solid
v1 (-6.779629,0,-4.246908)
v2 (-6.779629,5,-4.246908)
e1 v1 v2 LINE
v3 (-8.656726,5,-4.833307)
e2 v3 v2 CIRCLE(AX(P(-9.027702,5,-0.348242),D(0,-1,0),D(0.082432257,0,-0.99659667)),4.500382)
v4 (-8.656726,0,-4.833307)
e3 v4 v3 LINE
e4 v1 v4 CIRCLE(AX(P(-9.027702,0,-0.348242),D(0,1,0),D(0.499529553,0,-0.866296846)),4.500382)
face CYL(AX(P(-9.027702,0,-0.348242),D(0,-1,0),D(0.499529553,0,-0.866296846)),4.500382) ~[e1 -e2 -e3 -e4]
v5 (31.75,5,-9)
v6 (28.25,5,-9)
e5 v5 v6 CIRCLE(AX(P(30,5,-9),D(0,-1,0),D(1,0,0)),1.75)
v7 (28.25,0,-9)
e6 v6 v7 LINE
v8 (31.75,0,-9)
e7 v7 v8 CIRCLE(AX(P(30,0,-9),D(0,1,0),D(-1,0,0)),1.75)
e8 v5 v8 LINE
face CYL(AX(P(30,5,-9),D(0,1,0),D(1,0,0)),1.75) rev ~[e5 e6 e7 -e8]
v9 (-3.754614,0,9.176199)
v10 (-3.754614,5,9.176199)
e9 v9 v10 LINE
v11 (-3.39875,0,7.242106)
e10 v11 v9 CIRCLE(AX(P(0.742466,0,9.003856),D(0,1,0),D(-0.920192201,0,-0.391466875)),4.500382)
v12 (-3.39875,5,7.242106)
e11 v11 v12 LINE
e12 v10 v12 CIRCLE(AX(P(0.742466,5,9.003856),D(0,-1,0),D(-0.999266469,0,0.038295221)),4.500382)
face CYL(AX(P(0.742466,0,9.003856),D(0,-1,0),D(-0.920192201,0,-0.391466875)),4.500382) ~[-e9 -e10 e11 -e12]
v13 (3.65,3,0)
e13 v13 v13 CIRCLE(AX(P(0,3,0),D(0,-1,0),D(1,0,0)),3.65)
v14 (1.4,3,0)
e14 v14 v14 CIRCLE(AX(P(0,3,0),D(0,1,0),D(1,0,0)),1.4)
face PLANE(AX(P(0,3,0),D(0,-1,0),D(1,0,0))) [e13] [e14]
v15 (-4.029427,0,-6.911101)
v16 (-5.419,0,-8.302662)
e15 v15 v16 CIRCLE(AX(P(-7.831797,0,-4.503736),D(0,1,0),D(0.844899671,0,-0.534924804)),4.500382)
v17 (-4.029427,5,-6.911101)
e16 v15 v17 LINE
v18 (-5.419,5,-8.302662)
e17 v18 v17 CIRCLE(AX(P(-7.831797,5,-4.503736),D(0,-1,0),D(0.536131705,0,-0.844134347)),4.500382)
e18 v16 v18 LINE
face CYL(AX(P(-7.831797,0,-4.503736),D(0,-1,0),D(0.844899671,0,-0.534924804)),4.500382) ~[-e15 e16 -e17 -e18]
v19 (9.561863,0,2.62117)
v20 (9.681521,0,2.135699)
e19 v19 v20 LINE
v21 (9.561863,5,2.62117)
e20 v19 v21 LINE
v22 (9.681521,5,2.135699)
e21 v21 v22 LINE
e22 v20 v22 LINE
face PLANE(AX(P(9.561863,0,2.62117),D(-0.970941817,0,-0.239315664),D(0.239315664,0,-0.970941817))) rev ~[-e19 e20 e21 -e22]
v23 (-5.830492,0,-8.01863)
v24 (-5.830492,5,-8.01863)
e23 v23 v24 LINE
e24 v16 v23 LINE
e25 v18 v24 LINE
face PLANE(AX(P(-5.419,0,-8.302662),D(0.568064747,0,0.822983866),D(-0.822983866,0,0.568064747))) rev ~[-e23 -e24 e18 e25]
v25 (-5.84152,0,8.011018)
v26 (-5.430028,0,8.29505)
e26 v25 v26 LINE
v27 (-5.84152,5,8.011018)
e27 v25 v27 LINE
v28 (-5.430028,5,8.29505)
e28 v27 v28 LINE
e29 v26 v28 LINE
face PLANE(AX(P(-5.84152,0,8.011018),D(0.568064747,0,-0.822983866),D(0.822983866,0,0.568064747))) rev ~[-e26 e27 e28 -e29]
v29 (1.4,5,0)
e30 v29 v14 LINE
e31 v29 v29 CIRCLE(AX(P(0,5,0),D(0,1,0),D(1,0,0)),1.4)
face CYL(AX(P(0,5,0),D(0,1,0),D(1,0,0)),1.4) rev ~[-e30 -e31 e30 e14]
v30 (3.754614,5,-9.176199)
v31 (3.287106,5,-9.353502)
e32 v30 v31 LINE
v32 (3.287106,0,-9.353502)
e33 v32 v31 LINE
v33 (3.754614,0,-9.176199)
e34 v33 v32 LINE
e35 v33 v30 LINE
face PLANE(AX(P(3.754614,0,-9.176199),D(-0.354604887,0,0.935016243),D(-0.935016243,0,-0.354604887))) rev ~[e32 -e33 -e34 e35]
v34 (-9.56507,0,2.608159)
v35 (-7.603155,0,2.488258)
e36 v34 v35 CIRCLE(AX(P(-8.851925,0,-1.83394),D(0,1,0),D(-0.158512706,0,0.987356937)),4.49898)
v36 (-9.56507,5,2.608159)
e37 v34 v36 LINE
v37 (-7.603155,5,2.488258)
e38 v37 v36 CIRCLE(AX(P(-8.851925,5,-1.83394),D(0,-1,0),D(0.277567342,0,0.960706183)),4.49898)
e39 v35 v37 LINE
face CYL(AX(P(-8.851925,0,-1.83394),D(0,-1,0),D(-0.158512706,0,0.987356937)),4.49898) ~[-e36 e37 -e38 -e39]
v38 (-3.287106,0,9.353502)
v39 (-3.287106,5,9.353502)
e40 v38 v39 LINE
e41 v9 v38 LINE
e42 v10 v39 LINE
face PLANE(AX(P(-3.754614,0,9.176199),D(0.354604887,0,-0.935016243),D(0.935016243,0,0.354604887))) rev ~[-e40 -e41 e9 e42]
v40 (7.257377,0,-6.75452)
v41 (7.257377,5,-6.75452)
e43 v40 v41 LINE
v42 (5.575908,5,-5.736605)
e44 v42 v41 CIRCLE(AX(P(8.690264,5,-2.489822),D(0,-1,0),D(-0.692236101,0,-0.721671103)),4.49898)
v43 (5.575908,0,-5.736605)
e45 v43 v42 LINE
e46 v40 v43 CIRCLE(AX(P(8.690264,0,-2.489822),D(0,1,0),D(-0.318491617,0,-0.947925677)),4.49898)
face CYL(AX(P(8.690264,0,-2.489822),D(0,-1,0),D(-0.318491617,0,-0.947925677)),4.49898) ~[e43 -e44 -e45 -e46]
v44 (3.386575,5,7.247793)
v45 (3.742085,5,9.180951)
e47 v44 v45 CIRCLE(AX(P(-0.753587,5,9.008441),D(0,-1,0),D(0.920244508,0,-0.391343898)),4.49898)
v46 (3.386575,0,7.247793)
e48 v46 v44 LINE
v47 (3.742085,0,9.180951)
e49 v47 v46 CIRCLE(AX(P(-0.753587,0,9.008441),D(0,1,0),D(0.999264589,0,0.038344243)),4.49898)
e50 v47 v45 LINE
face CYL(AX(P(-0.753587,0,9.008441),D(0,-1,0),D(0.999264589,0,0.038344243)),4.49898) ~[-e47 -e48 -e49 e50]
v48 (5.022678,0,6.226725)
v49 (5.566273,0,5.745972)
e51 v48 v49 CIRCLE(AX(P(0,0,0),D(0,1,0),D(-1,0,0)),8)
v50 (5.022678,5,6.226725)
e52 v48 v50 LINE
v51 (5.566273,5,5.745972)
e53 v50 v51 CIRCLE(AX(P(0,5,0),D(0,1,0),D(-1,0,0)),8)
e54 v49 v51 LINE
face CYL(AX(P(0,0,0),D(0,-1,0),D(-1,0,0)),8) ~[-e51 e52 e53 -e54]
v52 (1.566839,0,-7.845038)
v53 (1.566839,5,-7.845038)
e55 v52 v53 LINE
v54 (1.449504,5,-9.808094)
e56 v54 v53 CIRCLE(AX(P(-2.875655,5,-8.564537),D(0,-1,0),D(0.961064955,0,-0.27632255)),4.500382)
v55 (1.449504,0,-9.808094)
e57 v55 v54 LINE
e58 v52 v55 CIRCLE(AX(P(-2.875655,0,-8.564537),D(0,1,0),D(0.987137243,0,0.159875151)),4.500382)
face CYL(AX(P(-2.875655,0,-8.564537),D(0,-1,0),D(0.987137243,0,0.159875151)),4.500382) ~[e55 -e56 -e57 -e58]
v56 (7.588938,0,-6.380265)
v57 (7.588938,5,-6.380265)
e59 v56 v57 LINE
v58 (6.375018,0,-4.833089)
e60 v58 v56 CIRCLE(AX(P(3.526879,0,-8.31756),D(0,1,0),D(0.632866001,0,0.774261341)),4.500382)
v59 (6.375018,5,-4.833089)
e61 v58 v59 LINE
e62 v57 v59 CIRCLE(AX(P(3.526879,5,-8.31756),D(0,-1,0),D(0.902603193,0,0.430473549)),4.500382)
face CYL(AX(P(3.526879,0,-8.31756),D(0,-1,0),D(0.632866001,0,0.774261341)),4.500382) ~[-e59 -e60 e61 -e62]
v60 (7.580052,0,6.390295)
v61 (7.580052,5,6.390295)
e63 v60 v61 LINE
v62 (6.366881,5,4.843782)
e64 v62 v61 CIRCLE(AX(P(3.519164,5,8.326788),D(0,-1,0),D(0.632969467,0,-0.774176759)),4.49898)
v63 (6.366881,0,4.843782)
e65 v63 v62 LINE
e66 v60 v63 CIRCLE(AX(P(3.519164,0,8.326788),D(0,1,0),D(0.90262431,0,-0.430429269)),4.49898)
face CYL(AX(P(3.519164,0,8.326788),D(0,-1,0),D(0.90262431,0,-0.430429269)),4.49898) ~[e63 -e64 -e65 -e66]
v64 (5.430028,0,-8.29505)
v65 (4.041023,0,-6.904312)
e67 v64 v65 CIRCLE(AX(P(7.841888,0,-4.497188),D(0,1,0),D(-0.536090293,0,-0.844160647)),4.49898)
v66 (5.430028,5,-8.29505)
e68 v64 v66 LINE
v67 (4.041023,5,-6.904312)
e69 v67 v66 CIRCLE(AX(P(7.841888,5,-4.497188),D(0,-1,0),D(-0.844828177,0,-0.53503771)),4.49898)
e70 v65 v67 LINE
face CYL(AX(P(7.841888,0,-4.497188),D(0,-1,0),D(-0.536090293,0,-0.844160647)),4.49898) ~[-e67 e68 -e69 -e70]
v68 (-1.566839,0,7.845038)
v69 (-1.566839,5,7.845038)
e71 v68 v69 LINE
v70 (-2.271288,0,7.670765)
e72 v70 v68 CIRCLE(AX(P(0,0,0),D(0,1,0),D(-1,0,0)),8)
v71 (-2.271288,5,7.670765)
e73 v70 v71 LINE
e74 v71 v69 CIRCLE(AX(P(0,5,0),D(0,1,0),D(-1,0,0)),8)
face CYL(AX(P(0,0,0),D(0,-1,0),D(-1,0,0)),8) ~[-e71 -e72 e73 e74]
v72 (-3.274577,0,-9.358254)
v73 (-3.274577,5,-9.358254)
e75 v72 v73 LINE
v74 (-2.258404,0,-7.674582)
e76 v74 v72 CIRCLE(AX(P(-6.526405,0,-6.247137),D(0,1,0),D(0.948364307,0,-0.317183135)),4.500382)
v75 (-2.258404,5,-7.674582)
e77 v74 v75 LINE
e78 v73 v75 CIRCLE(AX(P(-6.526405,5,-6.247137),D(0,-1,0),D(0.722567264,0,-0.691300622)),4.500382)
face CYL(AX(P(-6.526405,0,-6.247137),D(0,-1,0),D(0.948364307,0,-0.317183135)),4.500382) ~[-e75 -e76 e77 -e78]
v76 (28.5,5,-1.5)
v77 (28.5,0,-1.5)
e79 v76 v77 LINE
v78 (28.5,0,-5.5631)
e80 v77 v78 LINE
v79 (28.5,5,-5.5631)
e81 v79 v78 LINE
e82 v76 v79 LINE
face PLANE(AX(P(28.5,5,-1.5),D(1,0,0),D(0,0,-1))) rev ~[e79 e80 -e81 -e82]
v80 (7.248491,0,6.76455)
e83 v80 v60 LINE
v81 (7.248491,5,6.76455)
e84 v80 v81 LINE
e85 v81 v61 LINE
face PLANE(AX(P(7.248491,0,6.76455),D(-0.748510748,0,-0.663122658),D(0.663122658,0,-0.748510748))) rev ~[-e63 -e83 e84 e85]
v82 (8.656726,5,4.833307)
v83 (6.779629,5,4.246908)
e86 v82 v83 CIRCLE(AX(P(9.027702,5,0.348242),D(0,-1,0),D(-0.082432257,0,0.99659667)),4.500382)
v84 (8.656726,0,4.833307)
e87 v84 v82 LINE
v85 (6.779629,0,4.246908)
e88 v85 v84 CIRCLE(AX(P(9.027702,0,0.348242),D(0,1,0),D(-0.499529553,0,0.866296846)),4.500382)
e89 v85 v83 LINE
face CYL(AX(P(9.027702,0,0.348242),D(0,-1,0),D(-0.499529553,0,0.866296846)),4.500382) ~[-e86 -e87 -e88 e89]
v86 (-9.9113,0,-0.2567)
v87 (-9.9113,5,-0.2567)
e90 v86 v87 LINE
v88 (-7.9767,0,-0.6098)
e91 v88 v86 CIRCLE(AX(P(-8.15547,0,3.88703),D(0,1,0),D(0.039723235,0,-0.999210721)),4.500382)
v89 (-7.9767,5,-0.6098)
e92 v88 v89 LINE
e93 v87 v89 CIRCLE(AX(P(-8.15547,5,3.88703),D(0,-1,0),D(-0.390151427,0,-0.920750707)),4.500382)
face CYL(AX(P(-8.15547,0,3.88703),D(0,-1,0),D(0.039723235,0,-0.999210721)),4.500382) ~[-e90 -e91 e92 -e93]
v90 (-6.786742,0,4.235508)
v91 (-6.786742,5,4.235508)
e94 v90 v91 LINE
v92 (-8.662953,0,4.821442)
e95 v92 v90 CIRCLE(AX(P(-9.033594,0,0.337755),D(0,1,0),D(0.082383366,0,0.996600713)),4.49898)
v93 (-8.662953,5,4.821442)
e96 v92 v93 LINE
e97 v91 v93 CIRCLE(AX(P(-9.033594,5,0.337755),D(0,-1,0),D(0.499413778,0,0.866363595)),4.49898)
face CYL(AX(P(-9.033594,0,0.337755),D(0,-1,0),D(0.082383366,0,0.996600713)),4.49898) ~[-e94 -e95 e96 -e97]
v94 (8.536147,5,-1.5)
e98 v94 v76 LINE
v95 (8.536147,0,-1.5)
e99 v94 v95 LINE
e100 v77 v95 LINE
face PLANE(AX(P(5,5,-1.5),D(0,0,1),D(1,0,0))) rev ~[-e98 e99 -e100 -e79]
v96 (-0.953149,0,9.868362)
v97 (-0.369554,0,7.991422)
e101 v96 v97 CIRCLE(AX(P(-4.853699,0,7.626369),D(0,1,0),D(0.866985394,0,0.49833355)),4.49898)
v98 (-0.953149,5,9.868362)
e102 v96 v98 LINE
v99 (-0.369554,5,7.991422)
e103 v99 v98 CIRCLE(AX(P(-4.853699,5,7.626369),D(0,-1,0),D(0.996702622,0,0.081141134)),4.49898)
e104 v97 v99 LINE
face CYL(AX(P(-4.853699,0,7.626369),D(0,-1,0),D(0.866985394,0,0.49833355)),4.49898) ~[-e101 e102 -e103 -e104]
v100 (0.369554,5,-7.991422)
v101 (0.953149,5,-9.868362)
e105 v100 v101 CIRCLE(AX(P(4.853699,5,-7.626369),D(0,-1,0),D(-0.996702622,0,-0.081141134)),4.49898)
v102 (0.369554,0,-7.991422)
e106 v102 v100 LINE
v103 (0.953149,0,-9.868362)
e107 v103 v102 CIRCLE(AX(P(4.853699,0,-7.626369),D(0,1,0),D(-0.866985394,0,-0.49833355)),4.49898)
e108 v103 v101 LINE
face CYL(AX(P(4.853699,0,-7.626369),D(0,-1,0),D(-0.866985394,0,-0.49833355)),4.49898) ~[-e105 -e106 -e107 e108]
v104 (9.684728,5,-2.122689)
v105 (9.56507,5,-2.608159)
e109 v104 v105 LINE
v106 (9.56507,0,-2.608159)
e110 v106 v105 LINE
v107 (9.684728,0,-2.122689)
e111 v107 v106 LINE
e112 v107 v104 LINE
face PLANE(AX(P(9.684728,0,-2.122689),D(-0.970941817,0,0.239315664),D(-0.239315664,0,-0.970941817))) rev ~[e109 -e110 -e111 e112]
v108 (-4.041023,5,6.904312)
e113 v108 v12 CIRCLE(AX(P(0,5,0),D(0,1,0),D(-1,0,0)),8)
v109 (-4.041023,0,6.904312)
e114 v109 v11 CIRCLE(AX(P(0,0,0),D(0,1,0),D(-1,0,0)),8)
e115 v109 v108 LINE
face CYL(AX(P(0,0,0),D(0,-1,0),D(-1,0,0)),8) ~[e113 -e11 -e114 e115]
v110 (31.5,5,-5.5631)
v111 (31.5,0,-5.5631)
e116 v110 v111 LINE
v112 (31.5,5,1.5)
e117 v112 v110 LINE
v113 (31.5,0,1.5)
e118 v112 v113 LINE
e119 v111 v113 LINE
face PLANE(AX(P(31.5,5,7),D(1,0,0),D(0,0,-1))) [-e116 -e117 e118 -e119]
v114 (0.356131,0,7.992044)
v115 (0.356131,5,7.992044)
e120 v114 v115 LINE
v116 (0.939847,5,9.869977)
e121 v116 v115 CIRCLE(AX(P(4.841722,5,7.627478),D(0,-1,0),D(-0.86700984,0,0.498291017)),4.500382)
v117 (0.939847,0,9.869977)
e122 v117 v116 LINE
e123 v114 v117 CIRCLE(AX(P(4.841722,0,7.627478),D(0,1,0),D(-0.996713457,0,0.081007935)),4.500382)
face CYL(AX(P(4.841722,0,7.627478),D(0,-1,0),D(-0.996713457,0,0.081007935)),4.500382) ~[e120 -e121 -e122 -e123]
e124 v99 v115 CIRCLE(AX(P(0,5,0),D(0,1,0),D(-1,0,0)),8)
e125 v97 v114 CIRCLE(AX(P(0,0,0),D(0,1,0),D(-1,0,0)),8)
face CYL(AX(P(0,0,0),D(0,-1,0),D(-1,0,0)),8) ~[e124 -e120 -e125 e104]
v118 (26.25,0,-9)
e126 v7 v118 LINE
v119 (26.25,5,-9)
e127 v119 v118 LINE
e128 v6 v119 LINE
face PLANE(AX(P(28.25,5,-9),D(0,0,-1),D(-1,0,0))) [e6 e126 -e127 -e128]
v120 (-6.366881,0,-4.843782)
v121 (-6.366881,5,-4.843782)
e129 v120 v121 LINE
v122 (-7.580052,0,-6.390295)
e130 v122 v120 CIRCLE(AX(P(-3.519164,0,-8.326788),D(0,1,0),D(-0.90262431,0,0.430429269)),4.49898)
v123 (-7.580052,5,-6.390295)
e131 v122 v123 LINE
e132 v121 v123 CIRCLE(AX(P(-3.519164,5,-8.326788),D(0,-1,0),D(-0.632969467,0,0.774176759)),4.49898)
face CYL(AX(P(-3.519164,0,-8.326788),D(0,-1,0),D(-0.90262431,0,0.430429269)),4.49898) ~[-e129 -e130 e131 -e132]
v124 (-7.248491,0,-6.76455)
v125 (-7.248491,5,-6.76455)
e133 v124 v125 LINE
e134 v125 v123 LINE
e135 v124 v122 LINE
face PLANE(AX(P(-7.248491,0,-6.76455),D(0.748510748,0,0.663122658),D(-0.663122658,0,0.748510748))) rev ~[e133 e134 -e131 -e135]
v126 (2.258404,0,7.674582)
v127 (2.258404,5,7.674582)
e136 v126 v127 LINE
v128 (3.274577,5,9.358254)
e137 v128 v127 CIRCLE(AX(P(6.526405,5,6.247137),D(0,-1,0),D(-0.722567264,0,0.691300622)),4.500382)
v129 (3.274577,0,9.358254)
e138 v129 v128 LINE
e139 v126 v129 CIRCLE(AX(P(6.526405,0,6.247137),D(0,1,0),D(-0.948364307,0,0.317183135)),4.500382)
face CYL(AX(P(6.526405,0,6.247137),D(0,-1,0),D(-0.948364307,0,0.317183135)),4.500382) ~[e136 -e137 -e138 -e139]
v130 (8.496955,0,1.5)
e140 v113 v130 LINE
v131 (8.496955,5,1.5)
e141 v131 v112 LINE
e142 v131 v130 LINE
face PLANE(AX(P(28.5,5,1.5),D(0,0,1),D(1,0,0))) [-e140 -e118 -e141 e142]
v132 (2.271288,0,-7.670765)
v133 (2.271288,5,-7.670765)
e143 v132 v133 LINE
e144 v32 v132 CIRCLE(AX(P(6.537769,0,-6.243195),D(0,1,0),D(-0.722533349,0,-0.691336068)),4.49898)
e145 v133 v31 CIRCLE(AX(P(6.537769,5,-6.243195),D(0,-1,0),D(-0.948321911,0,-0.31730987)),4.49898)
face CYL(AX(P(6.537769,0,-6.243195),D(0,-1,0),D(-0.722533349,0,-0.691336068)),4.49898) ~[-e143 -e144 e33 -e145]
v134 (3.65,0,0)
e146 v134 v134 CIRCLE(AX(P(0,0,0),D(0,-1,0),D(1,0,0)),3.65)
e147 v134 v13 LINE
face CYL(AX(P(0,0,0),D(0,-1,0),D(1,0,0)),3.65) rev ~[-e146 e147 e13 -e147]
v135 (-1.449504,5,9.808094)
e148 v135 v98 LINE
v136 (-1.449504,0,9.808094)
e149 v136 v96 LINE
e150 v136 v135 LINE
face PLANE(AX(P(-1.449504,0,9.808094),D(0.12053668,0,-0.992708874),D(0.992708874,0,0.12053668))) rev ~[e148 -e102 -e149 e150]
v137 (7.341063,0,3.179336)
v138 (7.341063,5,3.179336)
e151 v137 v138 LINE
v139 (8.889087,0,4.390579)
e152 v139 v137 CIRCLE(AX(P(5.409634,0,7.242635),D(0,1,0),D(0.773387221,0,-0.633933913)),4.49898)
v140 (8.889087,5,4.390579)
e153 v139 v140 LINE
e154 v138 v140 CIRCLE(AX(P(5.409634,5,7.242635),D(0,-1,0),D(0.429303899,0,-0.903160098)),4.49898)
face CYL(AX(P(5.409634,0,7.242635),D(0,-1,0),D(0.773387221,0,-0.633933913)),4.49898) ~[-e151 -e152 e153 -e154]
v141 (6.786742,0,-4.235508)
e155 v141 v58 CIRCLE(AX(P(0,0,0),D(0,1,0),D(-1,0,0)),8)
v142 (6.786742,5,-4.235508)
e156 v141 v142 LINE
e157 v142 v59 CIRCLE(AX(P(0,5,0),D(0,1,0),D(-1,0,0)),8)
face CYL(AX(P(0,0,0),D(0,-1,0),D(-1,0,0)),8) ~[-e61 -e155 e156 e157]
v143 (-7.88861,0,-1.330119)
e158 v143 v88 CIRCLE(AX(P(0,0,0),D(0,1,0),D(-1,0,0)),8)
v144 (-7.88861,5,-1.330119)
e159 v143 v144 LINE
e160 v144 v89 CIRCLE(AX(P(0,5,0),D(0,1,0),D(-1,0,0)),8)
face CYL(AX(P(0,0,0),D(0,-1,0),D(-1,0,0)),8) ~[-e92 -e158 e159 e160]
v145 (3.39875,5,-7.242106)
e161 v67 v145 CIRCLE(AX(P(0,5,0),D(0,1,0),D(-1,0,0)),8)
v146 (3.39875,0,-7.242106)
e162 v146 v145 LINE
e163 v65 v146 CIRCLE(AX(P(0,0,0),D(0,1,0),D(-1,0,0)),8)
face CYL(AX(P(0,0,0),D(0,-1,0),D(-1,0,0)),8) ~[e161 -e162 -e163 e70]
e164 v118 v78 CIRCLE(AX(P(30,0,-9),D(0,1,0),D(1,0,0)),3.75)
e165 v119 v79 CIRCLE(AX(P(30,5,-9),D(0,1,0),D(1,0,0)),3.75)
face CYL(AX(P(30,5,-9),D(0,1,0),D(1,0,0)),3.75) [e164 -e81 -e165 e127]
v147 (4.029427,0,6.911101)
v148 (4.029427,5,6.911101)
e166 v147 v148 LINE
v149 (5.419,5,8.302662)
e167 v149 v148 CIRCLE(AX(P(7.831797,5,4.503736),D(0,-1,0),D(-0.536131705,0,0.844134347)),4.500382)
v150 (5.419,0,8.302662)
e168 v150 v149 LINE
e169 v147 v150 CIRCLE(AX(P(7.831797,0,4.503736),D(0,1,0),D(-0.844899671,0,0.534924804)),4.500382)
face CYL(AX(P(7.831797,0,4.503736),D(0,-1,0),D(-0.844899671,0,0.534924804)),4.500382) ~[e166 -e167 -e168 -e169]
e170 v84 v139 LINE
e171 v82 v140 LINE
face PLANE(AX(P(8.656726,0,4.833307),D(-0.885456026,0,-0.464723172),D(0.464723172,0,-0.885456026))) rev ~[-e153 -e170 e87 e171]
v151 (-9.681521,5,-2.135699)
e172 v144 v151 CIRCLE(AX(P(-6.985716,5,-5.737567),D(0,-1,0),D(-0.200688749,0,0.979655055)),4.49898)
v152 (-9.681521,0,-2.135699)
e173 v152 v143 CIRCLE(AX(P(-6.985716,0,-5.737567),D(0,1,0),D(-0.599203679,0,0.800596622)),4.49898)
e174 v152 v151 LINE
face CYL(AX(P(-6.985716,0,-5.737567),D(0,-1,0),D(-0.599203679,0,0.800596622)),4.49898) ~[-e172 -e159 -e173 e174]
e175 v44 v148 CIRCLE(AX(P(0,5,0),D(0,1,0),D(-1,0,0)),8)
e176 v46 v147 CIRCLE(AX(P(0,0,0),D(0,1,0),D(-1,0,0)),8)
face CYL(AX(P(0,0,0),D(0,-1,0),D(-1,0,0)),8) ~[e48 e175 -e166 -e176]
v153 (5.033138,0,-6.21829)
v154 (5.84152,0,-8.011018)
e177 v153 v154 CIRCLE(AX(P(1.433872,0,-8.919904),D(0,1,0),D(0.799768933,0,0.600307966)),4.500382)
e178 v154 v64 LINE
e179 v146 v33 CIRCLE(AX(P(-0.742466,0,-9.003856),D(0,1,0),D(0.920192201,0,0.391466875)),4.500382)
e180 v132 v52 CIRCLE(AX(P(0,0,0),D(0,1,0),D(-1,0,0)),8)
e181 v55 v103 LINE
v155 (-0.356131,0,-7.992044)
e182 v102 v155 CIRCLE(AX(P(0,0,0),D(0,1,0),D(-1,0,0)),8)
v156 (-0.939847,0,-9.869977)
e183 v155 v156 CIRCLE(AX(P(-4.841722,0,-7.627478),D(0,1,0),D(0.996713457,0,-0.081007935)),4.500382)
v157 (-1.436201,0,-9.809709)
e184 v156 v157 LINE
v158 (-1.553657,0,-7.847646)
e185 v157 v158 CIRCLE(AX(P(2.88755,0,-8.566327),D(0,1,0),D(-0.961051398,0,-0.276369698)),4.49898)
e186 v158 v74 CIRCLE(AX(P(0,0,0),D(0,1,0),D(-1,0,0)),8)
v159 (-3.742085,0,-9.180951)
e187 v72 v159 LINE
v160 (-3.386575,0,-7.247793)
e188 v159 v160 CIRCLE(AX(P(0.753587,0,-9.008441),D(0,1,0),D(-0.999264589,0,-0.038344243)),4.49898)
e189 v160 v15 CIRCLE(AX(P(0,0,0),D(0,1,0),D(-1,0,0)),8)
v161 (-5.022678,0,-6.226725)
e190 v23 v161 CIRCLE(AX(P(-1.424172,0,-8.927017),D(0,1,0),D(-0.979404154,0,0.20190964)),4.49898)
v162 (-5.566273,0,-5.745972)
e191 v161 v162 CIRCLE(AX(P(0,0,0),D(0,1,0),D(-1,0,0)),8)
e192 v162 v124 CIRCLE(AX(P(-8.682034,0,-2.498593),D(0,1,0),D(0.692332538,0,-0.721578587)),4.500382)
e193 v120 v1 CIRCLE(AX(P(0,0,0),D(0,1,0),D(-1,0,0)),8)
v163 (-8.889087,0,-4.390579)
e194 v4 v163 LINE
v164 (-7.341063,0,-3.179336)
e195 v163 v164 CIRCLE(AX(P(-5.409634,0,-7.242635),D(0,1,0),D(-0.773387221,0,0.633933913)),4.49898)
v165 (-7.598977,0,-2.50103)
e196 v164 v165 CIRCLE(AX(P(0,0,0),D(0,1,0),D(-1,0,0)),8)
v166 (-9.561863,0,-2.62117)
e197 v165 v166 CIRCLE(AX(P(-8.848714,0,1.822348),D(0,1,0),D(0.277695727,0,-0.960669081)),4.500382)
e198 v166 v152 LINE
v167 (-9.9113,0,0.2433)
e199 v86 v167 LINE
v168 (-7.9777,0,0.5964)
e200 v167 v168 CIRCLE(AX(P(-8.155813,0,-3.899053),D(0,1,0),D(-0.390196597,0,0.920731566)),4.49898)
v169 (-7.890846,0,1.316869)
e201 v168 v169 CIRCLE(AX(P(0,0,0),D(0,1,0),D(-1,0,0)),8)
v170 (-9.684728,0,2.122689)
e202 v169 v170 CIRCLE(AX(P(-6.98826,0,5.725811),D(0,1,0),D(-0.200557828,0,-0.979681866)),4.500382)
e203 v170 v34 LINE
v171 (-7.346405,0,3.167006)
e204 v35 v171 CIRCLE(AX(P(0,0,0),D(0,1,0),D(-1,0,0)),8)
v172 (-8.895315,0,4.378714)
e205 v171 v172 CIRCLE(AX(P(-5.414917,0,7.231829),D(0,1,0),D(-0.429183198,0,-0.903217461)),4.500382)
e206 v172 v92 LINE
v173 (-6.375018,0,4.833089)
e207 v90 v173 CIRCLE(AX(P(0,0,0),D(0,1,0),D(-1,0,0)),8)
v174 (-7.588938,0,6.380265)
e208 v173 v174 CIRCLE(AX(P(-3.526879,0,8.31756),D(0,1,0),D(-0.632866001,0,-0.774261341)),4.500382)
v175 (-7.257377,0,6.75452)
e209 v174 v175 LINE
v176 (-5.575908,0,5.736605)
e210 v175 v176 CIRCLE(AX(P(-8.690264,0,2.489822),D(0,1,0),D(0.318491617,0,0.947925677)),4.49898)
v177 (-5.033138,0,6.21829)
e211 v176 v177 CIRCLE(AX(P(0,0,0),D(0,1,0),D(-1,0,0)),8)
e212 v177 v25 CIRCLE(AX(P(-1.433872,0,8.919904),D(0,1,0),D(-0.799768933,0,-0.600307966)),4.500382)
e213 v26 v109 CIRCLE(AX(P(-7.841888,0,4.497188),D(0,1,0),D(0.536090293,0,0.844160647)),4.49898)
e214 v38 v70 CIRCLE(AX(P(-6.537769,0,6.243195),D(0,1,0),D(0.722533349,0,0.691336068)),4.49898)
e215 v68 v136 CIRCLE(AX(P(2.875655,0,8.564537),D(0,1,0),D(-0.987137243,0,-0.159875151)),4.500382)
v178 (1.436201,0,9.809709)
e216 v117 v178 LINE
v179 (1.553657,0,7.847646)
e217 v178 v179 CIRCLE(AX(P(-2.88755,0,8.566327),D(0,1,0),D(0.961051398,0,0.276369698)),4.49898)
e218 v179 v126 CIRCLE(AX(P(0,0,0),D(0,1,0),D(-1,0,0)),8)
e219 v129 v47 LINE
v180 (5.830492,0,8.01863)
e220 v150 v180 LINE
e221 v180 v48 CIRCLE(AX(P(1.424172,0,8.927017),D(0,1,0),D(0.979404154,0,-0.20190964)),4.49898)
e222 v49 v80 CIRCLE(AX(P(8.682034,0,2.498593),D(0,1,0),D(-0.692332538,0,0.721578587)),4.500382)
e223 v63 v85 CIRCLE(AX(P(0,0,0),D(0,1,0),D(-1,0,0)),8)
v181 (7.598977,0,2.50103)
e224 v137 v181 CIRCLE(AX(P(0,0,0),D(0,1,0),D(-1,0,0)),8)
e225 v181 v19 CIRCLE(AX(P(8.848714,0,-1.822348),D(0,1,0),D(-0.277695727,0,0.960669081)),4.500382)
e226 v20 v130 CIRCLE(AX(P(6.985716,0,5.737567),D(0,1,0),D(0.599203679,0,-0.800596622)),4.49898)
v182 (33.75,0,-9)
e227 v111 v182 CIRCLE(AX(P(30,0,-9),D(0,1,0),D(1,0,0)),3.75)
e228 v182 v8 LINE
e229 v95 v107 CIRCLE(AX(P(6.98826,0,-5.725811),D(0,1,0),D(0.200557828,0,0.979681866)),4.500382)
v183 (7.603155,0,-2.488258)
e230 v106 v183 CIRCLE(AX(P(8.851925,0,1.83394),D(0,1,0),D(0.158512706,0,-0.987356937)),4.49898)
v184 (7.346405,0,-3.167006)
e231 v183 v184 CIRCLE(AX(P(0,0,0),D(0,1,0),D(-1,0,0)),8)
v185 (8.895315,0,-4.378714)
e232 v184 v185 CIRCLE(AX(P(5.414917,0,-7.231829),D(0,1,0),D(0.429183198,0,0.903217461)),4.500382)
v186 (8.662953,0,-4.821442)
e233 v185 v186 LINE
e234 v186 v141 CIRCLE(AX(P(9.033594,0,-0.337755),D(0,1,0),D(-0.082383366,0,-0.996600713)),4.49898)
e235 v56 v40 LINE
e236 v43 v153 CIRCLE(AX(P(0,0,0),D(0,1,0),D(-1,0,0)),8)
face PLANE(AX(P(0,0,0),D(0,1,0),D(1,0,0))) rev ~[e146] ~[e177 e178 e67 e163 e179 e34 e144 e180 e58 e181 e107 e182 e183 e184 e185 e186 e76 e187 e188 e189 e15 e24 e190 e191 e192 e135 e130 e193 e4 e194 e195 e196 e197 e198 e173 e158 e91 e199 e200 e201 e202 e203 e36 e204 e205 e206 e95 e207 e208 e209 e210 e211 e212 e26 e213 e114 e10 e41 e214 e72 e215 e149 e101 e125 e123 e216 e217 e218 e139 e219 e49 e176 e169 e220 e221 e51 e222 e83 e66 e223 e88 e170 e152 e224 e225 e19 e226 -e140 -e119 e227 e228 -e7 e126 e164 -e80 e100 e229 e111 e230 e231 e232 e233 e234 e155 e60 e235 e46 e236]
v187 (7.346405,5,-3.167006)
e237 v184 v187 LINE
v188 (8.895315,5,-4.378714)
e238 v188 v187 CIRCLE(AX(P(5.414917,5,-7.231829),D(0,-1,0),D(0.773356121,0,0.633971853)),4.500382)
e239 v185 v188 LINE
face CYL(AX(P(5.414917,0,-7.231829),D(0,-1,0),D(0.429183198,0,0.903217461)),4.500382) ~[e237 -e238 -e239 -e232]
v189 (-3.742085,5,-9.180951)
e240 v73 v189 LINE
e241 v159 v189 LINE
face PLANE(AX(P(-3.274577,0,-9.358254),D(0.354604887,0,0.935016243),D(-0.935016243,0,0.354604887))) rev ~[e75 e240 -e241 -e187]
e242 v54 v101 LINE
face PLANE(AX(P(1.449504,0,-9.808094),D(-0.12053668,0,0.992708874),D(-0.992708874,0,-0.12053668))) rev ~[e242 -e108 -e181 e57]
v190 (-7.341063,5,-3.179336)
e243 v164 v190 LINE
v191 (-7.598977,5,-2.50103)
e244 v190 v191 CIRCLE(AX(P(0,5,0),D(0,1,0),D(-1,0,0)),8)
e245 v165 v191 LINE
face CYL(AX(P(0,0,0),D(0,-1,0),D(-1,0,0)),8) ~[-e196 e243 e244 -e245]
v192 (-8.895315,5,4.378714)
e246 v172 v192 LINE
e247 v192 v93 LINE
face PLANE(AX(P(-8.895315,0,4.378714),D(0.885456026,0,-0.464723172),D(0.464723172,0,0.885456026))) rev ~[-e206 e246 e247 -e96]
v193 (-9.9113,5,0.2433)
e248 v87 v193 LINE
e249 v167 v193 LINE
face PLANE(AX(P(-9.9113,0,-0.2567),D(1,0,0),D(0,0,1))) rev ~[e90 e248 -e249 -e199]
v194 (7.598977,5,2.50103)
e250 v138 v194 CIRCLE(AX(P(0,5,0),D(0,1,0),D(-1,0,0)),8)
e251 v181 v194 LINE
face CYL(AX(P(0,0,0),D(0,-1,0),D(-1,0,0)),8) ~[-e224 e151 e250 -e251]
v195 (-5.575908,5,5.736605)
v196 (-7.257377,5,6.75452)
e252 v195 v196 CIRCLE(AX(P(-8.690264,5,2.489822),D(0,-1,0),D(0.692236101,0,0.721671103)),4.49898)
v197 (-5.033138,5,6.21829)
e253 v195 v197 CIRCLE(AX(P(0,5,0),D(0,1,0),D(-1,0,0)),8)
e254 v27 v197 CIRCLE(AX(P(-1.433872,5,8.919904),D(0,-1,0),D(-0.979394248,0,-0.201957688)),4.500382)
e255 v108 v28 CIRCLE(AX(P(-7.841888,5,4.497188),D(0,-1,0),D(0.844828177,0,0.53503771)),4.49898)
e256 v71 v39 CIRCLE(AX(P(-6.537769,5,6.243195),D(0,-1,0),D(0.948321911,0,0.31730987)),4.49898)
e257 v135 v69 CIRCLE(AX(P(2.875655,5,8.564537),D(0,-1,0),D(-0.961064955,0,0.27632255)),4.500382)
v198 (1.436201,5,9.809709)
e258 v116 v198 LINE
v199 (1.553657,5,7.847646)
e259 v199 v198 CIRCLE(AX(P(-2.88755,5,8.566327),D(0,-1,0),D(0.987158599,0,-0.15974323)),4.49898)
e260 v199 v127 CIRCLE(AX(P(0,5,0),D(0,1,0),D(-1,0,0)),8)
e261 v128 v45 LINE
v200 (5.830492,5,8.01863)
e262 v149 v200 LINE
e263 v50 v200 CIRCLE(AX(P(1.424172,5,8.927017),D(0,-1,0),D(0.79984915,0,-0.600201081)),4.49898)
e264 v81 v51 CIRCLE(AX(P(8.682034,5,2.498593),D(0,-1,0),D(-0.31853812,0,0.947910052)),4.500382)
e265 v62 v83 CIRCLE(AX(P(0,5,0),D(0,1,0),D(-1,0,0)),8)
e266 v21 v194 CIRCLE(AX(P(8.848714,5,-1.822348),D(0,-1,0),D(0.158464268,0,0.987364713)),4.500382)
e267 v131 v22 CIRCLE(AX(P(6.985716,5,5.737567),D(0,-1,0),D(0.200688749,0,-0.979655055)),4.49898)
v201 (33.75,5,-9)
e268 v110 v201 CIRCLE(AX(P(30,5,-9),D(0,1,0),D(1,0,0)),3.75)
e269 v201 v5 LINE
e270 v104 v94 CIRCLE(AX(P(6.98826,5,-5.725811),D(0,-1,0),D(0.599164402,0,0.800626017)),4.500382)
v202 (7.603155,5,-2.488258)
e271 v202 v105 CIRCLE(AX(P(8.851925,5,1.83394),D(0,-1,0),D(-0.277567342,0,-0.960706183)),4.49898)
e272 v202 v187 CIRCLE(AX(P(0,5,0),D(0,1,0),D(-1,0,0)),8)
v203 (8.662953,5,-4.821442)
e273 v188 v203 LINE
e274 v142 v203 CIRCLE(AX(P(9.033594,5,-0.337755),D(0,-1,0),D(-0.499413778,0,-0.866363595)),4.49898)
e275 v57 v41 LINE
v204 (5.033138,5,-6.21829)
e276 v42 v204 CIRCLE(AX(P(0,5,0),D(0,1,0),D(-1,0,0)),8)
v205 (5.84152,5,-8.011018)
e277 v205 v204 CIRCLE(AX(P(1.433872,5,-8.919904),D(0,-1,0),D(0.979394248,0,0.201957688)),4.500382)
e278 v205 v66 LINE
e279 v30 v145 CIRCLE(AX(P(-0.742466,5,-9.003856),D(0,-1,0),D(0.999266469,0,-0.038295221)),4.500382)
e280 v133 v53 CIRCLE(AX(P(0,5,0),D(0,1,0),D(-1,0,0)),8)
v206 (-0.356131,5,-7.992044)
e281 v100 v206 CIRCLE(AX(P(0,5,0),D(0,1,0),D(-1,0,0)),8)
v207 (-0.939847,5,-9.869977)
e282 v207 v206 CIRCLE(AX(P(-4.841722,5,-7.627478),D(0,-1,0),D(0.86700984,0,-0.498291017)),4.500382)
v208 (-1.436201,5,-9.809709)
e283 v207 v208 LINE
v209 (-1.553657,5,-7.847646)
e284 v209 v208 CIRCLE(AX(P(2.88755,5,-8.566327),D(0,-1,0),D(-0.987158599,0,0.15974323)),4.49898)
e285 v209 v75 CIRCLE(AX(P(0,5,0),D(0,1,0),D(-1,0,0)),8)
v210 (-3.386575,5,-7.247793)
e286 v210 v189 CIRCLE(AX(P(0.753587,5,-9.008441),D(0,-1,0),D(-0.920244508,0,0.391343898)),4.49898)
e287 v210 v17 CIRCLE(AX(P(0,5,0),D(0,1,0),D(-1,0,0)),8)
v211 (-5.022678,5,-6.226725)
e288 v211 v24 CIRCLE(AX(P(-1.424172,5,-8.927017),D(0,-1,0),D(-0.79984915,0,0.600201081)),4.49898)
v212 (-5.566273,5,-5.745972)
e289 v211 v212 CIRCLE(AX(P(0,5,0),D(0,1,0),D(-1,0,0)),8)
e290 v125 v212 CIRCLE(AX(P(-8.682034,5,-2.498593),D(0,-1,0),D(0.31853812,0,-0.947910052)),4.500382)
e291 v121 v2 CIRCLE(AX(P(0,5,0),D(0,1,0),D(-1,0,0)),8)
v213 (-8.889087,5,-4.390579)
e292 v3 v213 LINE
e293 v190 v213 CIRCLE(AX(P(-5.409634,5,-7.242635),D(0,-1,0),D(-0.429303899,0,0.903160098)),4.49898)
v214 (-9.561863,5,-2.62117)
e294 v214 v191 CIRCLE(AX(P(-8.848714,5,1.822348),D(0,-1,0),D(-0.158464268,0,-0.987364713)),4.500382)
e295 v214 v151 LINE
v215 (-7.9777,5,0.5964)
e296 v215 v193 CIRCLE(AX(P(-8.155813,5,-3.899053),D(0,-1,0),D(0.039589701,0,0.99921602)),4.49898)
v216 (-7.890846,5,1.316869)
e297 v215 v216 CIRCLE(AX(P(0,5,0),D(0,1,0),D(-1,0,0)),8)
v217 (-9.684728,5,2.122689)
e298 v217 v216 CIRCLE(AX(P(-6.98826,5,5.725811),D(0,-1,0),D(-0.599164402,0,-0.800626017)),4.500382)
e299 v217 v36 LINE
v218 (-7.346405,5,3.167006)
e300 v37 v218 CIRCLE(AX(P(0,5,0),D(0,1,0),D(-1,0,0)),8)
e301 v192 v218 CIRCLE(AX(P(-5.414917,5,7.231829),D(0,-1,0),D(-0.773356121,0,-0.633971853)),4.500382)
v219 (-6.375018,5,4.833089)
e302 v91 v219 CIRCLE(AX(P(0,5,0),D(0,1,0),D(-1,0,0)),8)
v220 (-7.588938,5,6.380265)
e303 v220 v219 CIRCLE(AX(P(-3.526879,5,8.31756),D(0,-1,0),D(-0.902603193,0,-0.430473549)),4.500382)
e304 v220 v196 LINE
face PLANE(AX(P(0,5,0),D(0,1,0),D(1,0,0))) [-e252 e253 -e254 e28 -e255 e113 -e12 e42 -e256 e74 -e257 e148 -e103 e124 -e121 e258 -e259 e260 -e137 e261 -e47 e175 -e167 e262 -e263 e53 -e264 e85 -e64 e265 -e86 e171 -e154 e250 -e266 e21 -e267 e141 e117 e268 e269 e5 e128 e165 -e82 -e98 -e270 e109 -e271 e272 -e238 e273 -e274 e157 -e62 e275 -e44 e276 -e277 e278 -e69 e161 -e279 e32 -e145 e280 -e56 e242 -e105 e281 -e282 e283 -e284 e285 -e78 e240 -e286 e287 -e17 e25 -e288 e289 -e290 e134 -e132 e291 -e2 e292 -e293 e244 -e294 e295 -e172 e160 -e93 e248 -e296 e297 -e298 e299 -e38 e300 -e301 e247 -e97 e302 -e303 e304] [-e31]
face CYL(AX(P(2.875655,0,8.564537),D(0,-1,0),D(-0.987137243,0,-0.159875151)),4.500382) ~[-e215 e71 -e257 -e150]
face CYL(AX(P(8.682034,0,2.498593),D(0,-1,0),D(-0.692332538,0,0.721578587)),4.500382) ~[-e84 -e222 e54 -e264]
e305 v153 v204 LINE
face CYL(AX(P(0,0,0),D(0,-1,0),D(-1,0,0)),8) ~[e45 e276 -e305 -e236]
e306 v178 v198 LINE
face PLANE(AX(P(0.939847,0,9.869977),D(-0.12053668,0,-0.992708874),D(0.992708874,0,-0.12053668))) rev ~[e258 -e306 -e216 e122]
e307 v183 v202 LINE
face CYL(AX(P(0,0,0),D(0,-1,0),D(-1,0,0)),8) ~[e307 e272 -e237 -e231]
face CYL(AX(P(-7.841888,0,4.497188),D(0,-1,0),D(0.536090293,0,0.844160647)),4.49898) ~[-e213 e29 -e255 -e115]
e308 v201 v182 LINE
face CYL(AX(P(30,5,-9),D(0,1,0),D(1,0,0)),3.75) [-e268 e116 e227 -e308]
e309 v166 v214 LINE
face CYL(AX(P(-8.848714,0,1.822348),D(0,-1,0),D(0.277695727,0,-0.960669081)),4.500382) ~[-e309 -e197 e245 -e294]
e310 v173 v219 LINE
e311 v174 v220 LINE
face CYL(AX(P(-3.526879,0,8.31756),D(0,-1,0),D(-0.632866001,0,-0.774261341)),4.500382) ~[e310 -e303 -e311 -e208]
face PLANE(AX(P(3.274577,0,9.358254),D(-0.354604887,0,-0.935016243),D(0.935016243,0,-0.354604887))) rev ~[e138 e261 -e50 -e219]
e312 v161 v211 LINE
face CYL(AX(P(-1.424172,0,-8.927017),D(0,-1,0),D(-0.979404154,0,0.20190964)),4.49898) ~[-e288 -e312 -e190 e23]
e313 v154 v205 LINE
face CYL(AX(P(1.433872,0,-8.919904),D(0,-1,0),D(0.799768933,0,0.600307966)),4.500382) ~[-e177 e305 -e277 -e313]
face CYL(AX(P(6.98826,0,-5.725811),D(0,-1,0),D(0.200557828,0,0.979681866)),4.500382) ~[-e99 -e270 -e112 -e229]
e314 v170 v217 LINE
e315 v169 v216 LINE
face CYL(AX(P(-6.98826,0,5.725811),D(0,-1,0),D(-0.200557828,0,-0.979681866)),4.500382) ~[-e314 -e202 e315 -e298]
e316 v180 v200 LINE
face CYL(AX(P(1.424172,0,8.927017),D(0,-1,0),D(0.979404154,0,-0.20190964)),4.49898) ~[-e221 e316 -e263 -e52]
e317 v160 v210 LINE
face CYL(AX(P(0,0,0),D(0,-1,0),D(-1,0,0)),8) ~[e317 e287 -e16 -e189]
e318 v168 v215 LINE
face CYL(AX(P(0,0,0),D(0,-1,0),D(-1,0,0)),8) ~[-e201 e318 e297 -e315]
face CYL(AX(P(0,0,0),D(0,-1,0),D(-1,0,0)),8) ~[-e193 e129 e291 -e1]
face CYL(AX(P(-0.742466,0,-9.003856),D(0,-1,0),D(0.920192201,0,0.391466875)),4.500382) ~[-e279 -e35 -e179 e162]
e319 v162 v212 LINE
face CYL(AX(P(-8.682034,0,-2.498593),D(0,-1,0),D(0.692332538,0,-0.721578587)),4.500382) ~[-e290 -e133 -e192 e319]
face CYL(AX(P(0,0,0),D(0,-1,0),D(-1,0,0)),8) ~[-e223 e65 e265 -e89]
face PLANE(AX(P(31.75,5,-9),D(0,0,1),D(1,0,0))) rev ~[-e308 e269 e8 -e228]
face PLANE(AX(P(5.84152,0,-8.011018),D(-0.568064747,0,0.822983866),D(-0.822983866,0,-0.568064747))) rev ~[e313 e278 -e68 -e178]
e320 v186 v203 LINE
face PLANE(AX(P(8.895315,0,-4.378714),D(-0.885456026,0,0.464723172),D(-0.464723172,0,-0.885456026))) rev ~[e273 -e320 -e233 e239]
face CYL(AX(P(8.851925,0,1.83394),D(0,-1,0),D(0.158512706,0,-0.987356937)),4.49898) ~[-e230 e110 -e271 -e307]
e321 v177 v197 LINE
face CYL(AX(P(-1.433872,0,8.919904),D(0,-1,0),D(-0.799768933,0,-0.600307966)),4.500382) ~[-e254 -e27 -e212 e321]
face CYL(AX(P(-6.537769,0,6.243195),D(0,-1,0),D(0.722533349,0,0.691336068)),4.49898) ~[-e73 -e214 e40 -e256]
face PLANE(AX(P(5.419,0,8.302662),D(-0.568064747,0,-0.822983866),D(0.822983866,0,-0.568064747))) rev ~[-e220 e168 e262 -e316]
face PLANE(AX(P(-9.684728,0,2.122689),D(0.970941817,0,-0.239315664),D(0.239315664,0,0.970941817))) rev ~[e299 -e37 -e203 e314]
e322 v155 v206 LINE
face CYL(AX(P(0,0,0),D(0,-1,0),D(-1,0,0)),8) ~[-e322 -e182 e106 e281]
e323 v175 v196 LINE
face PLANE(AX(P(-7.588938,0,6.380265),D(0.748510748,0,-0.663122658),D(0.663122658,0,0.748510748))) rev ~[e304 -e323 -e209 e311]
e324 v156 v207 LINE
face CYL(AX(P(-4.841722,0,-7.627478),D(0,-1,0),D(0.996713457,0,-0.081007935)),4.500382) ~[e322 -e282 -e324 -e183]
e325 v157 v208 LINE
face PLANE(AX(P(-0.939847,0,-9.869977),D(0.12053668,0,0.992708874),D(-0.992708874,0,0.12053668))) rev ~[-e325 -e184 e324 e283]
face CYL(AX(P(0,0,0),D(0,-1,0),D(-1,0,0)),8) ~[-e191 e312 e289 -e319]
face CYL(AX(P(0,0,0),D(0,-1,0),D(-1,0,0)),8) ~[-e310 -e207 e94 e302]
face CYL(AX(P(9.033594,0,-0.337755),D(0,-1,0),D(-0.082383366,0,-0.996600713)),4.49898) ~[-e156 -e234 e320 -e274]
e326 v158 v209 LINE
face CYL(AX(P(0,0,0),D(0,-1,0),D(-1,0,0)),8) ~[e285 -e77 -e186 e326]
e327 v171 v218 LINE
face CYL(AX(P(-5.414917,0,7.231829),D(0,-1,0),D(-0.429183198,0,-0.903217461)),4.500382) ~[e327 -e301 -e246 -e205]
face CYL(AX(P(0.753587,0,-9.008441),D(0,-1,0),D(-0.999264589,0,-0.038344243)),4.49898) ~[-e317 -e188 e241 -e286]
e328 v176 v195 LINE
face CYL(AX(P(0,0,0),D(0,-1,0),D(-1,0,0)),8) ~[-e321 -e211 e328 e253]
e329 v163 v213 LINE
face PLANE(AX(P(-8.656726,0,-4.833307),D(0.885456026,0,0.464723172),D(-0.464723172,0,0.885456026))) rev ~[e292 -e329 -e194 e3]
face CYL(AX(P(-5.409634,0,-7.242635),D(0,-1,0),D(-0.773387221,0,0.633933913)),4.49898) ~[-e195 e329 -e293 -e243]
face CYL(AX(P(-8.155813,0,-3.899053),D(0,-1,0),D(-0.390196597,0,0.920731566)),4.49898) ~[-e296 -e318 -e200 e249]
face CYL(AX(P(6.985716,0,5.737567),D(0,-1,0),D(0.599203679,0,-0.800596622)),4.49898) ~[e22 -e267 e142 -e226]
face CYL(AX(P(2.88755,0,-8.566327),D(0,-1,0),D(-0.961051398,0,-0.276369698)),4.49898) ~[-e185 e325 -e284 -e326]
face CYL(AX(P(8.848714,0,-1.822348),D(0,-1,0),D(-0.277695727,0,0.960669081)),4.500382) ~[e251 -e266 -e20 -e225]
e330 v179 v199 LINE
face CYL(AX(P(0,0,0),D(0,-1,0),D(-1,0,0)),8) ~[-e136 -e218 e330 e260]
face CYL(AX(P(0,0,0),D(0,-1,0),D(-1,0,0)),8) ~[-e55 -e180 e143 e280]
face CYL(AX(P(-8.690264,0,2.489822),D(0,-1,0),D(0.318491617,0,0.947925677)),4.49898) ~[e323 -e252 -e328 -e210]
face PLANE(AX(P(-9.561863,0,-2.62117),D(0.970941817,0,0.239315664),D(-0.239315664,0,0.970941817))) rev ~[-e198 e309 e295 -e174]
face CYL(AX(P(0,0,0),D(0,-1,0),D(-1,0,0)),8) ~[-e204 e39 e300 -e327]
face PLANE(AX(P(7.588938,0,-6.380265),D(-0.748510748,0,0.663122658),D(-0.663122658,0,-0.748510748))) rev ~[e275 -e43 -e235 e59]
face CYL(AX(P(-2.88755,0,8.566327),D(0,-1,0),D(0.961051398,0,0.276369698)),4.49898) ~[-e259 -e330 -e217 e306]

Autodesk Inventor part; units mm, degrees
ref_plane "YZ Plane" through (0, 0, 0) normal (1, 0, 0) x (0, 1, 0)
ref_plane "XZ Plane" through (0, 0, 0) normal (0, 1, 0) x (-1, 0, 0)
ref_plane "XY Plane" through (0, 0, 0) normal (0, 0, 1) x (1, 0, 0)
sketch "Sketch1" plane through (0, 0, 0) normal (0, 1, 0) x (-1, 0, 0)
  circle A0 centre (0, 0) radius 8
  circle A1 centre (0, 0) radius 2
  line L0 (7.9113, 0.5933) -> (7.9113, -0.6067)
  line L1 (9.9113, -0.2567) -> (9.9113, 0.2433)
  line L2 (7.6237, -0.0067) -> (9.0479, -0.0067) construction
  arc A2 (9.9113, 0.2433) -> (7.9113, 0.5933) centre (8.1555, -3.9001) ccw construction
  arc A3 (7.9113, -0.6067) -> (9.9113, -0.2567) centre (8.1555, 3.8866) ccw construction
  arc A4 (9.9113, 0.2433) -> (7.9113, 0.5933) centre (8.1555, -3.9001) ccw construction
  arc A5 (9.9113, 0.2433) -> (7.9777, 0.5964) centre (8.1555, -3.9001) ccw
  arc A6 (7.9767, -0.6098) -> (9.9113, -0.2567) centre (8.1555, 3.8866) ccw
  line L3 (9.4, 0) -> (9.4, -0.4379)
  line L4 (9.4, 0) -> (9.4, 0.4244)
  arc A7 (5.296, -1.8919) -> (5.296, 1.8784) centre (4.6281, -0.0067) ccw
  circle A8 centre (0, 0) radius 8
  dimension "d0" = 16
  dimension "d1" = 4
  dimension "d2" = 0.25
  dimension "d3" = 0.25
  dimension "d4" = 0.6
  dimension "d7" = 1.2
  dimension "d8" = 4.5
  dimension "d10" = 2
extrude "Extrusion1" add sketch "Sketch1" along normal blind 5
pattern_circular "Circular Pattern1" count 26 over 360 about axis through (0, 0, 0) along (0, 1, 0) of "Extrusion1"
sketch "Sketch8" plane through (0, 5, 0) normal (0, 1, 0) x (1, 0, 0)
  circle A0 centre (0, 0) radius 2.5
  circle A1 centre (0, 0) radius 2
  dimension "d49" = 5
  dimension "d50" = 4
extrude "Extrusion6" cut sketch "Sketch8" against normal blind 13.8125
sketch "Sketch9" plane through (0, 5, 0) normal (0, 1, 0) x (1, 0, 0)
  circle A0 centre (0, 0) radius 2.5 projected
  line L0 (0, 0) -> (30, 0)
  line L1 (30, 0) -> (30, -18)
  line L2 (30, -18) -> (0, -18)
  line L3 (0, -18) -> (0, 0)
  circle A1 centre (0, 0) radius 9.5
  circle A2 centre (0, -18) radius 9.5
  line L4 (30, -9) -> (0, -9)
  circle A3 centre (30, -9) radius 2.5
  line L5 (30, 0) -> (5, 0)
  line L6 (5, 0) -> (5, -1.5)
  line L7 (5, -1.5) -> (30, -1.5)
  line L8 (30, -1.5) -> (30, 0)
  line L9 (5, 0) -> (30, 0)
  line L10 (30, 0) -> (30, 1.5)
  line L11 (30, 1.5) -> (5, 1.5)
  line L12 (5, 1.5) -> (5, 0)
  line L13 (30, 1.5) -> (31.5, 1.5)
  line L14 (31.5, 1.5) -> (31.5, -7.5)
  line L15 (31.5, -7.5) -> (30, -7.5)
  line L16 (30, -7.5) -> (30, 1.5)
  line L17 (30, 1.5) -> (28.5, 1.5)
  line L18 (28.5, 1.5) -> (28.5, -7.5)
  line L19 (28.5, -7.5) -> (30, -7.5)
  line L20 (30, -7.5) -> (30, 1.5)
  circle A4 centre (30, -9) radius 1.5
  line L21 (27.5, -9) -> (32.5, -9)
  line L22 (32.5, -9) -> (32.5, -8.5)
  line L23 (32.5, -8.5) -> (27.5, -8.5)
  line L24 (27.5, -8.5) -> (27.5, -9)
  line L25 (28.5, -7.5) -> (27.5, -8.5)
  line L26 (31.5, -7.5) -> (32.5, -8.5)
  line L27 (27.5, -8.5) -> (28.5, -8.5)
  line L28 (32.5, -8.5) -> (31.5, -8.5)
  line L29 (28.5, -7.5) -> (29, -7.5)
  line L30 (31.5, -7.5) -> (31, -7.5)
  line L31 (31, -7.5) -> (31.5, -8.5)
  line L32 (29, -7.5) -> (28.5, -8.5)
  line L33 (5, 1.5) -> (12.096, 1.5)
  line L34 (12.096, 1.5) -> (12.096, -1.5)
  line L35 (12.096, -1.5) -> (5, -1.5)
  line L36 (5, -1.5) -> (5, 1.5)
  dimension "d57" = 5
  dimension "d53" = 30
  dimension "d54" = 18
  dimension "d55" = 19
  dimension "d56" = 19
  dimension "d58" = 25
  dimension "d59" = 1.5
  dimension "d60" = 1.5
  dimension "d61" = 1.5
  dimension "d62" = 9
  dimension "d63" = 1.5
  dimension "d64" = 3
  dimension "d65" = 5
  dimension "d66" = 0.5
  dimension "d67" = 0.5
  dimension "d68" = 0.5
extrude "Extrusion7" cut sketch "Sketch9" against normal blind 5 contours L12 L11 A1 L0 | L0 A1 L7 L6 | A1 L11 L34 L0 | L0 L34 L7 A1
sketch "Sketch10" plane through (0, 5, 0) normal (0, 1, 0) x (1, 0, 0)
  circle A0 centre (0, 0) radius 2.5 projected
  line L0 (0, 0) -> (30, 0)
  line L1 (30, 0) -> (30, -9)
  line L2 (30, -9) -> (0, -9)
  line L3 (0, -9) -> (0, 0)
  line L4 (5, 1.5) -> (30, 1.5)
  line L5 (30, 1.5) -> (30, -1.5)
  line L6 (30, -1.5) -> (5, -1.5)
  line L7 (5, -1.5) -> (5, 1.5)
  line L8 (31.5, 1.5) -> (28.5, 1.5)
  line L9 (28.5, 1.5) -> (28.5, -7.5)
  line L10 (28.5, -7.5) -> (31.5, -7.5)
  line L11 (31.5, -7.5) -> (31.5, 1.5)
  circle A1 centre (30, -9) radius 1.5
  circle A2 centre (30, -9) radius 2.5
  line L12 (27.5, -9) -> (32.4495, -9)
  line L13 (32.4495, -9) -> (32.4495, -8.5)
  line L14 (27.5, -8.5) -> (27.5, -9)
  line L15 (27.5, -9) -> (32.5, -9)
  line L16 (32.5, -9) -> (32.5, -8.5)
  line L17 (32.5, -8.5) -> (27.5, -8.5)
  line L18 (27.5, -8.5) -> (27.5, -9)
  line L19 (28.5, -7.5) -> (27.5, -8.5)
  line L20 (31.5, -7.5) -> (32.5, -8.5)
  line L21 (28.5, -7.5) -> (29, -7.5)
  line L22 (31.5, -7.5) -> (31, -7.5)
  line L23 (29, -7.5) -> (28.5, -8.5)
  line L24 (31, -7.5) -> (31.5, -8.5)
  point P0 (28.5, -1.5)
  point P1 (28.5, -7)
  point P2 (27.5505, -8.5)
  point P3 (28.5858, -8.5)
  point P4 (31.4142, -8.5)
  point P5 (31.5, -7)
  dimension "d71" = 30
  dimension "d72" = 9
  dimension "d73" = 3
  dimension "d74" = 3
  dimension "d75" = 9
  dimension "d76" = 3
  dimension "d77" = 5
  dimension "d78" = 0.5
  dimension "d79" = 5
  dimension "d80" = 0.5
  dimension "d81" = 0.5
extrude "Extrusion8" add sketch "Sketch10" against normal blind 5 contours L7 L4 L9 L0 | L0 L9 L6 L7 | L9 L4 L5 L0 | L0 L1 L6 L9 | L5 L8 L11 A2 L1 | L6 L1 A2 L9 | A2 L19 L10 L23 L17 | A2 L1 L10 L9 | L9 L19 A2 | L17 L23 L10 A1 | L17 L24 L10 L20 A2 | A2 L11 L10 L1 | L10 L24 L17 A1 | L20 L11 A2
sketch "Sketch11" plane through (0, 5, 0) normal (0, 1, 0) x (1, 0, 0)
  circle A0 centre (0, 0) radius 2.5
  circle A1 centre (0, 0) radius 2.3
  dimension "d84" = 4.6
extrude "Extrusion9" add sketch "Sketch11" against normal blind 5
sketch "Sketch12" plane through (0, 5, 0) normal (0, 1, 0) x (1, 0, 0)
  line L0 (0, 0) -> (30, 0)
  line L1 (30, 0) -> (30, -9)
  line L2 (30, -9) -> (0, -9)
  line L3 (0, -9) -> (0, 0)
  arc A0 (31.4142, -8.5) -> (28.5858, -8.5) centre (30, -9) ccw projected
  circle A1 centre (30, -9) radius 1.75
  dimension "d87" = 30
  dimension "d88" = 9
  dimension "d89" = 3.5
extrude "Extrusion10" cut sketch "Sketch12" against normal blind 10 contours A1 L2 L1 | L1 L2 A1
sketch "Sketch13" plane through (0, 5, 0) normal (0, 1, 0) x (1, 0, 0)
  arc A0 (31.6771, -8.5) -> (28.3229, -8.5) centre (30, -9) ccw projected
  circle A1 centre (30, -9) radius 1.75
  line L0 (28.5, -1.5) -> (8.4968, -1.5) projected
  line L1 (27.1012, -1.5) -> (34.2031, -1.5)
  line L2 (34.2031, -1.5) -> (34.2031, -10.2427)
  line L3 (34.2031, -10.2427) -> (27.1012, -10.2427)
  line L4 (27.1012, -10.2427) -> (27.1012, -1.5)
  point P0 (0, 0)
  point P1 (28.7679, -10.2427)
  point P2 (31.2321, -10.2427)
extrude "Extrusion11" cut sketch "Sketch13" against normal blind 10 contours A0 A1 L3 L4 L0 L1 L2
sketch "Sketch14" plane through (0, 5, 0) normal (0, 1, 0) x (1, 0, 0)
  line L0 (0, 0) -> (30, 0)
  line L1 (30, 0) -> (30, 9)
  line L2 (30, 9) -> (0, 9)
  line L3 (0, 9) -> (0, 0)
  line L4 (8.4968, -1.5) -> (31.5, -1.5) projected
  line L5 (31.5, -1.5) -> (28.5, -1.5)
  line L6 (28.5, -1.5) -> (28.5, 9)
  line L7 (28.5, 9) -> (31.5, 9)
  line L8 (31.5, 9) -> (31.5, -1.5)
  circle A0 centre (30, 9) radius 1.75
  circle A1 centre (30, 9) radius 2.5
  line L9 (31.5, 1.5) -> (8.5362, 1.5) projected
  line L10 (28.5, 1.5) -> (31.5, 1.5)
  line L11 (30, 9) -> (32.6445, 9)
  point P0 (27.5, 9)
  point P1 (28.5, 7)
  point P2 (31.5, 7)
  point P3 (32.5, 9)
  point P4 (31.75, 9)
  point P5 (28.25, 9)
  dimension "d94" = 30
  dimension "d95" = 9
  dimension "d96" = 3
  dimension "d97" = 3.5
  dimension "d98" = 5
extrude "Extrusion12" add sketch "Sketch14" against normal blind 5 contours L6 A1 L1 L9 | L2 A0 L6 A1 | L1 A1 L8 L9 | L6 A0 L1 A1 | A1 L8 A0 L11 | L1 A0 L8 A1
sketch "Sketch15" plane through (0, 5, 0) normal (0, 1, 0) x (1, 0, 0)
  circle A0 centre (0, 0) radius 2.3
extrude "Extrusion13" add sketch "Sketch15" against normal blind 5
sketch "Sketch16" plane through (0, 5, 0) normal (0, 1, 0) x (1, 0, 0)
  circle A0 centre (0, 0) radius 1.4
  dimension "d103" = 2.8
extrude "Extrusion14" cut sketch "Sketch16" against normal blind 5
sketch "Sketch17" plane through (0, 0, 0) normal (0, -1, 0) x (1, 0, 0)
  circle A0 centre (0, 0) radius 3.65
  dimension "d106" = 7.3
extrude "Extrusion15" cut sketch "Sketch17" against normal blind 3
sketch "Sketch18" plane through (0, 5, 0) normal (0, 1, 0) x (1, 0, 0)
  point P0 (0, 0)
sketch "Sketch19" plane through (0, 5, 0) normal (0, 1, 0) x (1, 0, 0)
  arc A0 (28.25, 9) -> (31.75, 9) centre (30, 9) ccw projected
  circle A1 centre (30, 9) radius 3.75
  circle A2 centre (30, 9) radius 2.5
  arc A3 (31.5, 7) -> (32.5, 9) centre (30, 9) ccw projected
  line L0 (32.5, 9) -> (33.75, 9)
  line L1 (27.5, 9) -> (28.25, 9) projected
  line L2 (27.5, 9) -> (26.25, 9)
  line L3 (31.5, 7) -> (31.5, -1.5) projected
  line L4 (31.5, 7) -> (31.5, 5.5631)
  line L5 (28.5, 1.5) -> (28.5, 7) projected
  line L6 (28.5, 7) -> (28.5, 5.5631)
  point P0 (0, 0)
  dimension "d109" = 7.5
extrude "Extrusion16" add sketch "Sketch19" against normal blind 5 contours A1 L3 A2 L0 | L2 A2 L5 A1
properties part number "Servo new gear"
